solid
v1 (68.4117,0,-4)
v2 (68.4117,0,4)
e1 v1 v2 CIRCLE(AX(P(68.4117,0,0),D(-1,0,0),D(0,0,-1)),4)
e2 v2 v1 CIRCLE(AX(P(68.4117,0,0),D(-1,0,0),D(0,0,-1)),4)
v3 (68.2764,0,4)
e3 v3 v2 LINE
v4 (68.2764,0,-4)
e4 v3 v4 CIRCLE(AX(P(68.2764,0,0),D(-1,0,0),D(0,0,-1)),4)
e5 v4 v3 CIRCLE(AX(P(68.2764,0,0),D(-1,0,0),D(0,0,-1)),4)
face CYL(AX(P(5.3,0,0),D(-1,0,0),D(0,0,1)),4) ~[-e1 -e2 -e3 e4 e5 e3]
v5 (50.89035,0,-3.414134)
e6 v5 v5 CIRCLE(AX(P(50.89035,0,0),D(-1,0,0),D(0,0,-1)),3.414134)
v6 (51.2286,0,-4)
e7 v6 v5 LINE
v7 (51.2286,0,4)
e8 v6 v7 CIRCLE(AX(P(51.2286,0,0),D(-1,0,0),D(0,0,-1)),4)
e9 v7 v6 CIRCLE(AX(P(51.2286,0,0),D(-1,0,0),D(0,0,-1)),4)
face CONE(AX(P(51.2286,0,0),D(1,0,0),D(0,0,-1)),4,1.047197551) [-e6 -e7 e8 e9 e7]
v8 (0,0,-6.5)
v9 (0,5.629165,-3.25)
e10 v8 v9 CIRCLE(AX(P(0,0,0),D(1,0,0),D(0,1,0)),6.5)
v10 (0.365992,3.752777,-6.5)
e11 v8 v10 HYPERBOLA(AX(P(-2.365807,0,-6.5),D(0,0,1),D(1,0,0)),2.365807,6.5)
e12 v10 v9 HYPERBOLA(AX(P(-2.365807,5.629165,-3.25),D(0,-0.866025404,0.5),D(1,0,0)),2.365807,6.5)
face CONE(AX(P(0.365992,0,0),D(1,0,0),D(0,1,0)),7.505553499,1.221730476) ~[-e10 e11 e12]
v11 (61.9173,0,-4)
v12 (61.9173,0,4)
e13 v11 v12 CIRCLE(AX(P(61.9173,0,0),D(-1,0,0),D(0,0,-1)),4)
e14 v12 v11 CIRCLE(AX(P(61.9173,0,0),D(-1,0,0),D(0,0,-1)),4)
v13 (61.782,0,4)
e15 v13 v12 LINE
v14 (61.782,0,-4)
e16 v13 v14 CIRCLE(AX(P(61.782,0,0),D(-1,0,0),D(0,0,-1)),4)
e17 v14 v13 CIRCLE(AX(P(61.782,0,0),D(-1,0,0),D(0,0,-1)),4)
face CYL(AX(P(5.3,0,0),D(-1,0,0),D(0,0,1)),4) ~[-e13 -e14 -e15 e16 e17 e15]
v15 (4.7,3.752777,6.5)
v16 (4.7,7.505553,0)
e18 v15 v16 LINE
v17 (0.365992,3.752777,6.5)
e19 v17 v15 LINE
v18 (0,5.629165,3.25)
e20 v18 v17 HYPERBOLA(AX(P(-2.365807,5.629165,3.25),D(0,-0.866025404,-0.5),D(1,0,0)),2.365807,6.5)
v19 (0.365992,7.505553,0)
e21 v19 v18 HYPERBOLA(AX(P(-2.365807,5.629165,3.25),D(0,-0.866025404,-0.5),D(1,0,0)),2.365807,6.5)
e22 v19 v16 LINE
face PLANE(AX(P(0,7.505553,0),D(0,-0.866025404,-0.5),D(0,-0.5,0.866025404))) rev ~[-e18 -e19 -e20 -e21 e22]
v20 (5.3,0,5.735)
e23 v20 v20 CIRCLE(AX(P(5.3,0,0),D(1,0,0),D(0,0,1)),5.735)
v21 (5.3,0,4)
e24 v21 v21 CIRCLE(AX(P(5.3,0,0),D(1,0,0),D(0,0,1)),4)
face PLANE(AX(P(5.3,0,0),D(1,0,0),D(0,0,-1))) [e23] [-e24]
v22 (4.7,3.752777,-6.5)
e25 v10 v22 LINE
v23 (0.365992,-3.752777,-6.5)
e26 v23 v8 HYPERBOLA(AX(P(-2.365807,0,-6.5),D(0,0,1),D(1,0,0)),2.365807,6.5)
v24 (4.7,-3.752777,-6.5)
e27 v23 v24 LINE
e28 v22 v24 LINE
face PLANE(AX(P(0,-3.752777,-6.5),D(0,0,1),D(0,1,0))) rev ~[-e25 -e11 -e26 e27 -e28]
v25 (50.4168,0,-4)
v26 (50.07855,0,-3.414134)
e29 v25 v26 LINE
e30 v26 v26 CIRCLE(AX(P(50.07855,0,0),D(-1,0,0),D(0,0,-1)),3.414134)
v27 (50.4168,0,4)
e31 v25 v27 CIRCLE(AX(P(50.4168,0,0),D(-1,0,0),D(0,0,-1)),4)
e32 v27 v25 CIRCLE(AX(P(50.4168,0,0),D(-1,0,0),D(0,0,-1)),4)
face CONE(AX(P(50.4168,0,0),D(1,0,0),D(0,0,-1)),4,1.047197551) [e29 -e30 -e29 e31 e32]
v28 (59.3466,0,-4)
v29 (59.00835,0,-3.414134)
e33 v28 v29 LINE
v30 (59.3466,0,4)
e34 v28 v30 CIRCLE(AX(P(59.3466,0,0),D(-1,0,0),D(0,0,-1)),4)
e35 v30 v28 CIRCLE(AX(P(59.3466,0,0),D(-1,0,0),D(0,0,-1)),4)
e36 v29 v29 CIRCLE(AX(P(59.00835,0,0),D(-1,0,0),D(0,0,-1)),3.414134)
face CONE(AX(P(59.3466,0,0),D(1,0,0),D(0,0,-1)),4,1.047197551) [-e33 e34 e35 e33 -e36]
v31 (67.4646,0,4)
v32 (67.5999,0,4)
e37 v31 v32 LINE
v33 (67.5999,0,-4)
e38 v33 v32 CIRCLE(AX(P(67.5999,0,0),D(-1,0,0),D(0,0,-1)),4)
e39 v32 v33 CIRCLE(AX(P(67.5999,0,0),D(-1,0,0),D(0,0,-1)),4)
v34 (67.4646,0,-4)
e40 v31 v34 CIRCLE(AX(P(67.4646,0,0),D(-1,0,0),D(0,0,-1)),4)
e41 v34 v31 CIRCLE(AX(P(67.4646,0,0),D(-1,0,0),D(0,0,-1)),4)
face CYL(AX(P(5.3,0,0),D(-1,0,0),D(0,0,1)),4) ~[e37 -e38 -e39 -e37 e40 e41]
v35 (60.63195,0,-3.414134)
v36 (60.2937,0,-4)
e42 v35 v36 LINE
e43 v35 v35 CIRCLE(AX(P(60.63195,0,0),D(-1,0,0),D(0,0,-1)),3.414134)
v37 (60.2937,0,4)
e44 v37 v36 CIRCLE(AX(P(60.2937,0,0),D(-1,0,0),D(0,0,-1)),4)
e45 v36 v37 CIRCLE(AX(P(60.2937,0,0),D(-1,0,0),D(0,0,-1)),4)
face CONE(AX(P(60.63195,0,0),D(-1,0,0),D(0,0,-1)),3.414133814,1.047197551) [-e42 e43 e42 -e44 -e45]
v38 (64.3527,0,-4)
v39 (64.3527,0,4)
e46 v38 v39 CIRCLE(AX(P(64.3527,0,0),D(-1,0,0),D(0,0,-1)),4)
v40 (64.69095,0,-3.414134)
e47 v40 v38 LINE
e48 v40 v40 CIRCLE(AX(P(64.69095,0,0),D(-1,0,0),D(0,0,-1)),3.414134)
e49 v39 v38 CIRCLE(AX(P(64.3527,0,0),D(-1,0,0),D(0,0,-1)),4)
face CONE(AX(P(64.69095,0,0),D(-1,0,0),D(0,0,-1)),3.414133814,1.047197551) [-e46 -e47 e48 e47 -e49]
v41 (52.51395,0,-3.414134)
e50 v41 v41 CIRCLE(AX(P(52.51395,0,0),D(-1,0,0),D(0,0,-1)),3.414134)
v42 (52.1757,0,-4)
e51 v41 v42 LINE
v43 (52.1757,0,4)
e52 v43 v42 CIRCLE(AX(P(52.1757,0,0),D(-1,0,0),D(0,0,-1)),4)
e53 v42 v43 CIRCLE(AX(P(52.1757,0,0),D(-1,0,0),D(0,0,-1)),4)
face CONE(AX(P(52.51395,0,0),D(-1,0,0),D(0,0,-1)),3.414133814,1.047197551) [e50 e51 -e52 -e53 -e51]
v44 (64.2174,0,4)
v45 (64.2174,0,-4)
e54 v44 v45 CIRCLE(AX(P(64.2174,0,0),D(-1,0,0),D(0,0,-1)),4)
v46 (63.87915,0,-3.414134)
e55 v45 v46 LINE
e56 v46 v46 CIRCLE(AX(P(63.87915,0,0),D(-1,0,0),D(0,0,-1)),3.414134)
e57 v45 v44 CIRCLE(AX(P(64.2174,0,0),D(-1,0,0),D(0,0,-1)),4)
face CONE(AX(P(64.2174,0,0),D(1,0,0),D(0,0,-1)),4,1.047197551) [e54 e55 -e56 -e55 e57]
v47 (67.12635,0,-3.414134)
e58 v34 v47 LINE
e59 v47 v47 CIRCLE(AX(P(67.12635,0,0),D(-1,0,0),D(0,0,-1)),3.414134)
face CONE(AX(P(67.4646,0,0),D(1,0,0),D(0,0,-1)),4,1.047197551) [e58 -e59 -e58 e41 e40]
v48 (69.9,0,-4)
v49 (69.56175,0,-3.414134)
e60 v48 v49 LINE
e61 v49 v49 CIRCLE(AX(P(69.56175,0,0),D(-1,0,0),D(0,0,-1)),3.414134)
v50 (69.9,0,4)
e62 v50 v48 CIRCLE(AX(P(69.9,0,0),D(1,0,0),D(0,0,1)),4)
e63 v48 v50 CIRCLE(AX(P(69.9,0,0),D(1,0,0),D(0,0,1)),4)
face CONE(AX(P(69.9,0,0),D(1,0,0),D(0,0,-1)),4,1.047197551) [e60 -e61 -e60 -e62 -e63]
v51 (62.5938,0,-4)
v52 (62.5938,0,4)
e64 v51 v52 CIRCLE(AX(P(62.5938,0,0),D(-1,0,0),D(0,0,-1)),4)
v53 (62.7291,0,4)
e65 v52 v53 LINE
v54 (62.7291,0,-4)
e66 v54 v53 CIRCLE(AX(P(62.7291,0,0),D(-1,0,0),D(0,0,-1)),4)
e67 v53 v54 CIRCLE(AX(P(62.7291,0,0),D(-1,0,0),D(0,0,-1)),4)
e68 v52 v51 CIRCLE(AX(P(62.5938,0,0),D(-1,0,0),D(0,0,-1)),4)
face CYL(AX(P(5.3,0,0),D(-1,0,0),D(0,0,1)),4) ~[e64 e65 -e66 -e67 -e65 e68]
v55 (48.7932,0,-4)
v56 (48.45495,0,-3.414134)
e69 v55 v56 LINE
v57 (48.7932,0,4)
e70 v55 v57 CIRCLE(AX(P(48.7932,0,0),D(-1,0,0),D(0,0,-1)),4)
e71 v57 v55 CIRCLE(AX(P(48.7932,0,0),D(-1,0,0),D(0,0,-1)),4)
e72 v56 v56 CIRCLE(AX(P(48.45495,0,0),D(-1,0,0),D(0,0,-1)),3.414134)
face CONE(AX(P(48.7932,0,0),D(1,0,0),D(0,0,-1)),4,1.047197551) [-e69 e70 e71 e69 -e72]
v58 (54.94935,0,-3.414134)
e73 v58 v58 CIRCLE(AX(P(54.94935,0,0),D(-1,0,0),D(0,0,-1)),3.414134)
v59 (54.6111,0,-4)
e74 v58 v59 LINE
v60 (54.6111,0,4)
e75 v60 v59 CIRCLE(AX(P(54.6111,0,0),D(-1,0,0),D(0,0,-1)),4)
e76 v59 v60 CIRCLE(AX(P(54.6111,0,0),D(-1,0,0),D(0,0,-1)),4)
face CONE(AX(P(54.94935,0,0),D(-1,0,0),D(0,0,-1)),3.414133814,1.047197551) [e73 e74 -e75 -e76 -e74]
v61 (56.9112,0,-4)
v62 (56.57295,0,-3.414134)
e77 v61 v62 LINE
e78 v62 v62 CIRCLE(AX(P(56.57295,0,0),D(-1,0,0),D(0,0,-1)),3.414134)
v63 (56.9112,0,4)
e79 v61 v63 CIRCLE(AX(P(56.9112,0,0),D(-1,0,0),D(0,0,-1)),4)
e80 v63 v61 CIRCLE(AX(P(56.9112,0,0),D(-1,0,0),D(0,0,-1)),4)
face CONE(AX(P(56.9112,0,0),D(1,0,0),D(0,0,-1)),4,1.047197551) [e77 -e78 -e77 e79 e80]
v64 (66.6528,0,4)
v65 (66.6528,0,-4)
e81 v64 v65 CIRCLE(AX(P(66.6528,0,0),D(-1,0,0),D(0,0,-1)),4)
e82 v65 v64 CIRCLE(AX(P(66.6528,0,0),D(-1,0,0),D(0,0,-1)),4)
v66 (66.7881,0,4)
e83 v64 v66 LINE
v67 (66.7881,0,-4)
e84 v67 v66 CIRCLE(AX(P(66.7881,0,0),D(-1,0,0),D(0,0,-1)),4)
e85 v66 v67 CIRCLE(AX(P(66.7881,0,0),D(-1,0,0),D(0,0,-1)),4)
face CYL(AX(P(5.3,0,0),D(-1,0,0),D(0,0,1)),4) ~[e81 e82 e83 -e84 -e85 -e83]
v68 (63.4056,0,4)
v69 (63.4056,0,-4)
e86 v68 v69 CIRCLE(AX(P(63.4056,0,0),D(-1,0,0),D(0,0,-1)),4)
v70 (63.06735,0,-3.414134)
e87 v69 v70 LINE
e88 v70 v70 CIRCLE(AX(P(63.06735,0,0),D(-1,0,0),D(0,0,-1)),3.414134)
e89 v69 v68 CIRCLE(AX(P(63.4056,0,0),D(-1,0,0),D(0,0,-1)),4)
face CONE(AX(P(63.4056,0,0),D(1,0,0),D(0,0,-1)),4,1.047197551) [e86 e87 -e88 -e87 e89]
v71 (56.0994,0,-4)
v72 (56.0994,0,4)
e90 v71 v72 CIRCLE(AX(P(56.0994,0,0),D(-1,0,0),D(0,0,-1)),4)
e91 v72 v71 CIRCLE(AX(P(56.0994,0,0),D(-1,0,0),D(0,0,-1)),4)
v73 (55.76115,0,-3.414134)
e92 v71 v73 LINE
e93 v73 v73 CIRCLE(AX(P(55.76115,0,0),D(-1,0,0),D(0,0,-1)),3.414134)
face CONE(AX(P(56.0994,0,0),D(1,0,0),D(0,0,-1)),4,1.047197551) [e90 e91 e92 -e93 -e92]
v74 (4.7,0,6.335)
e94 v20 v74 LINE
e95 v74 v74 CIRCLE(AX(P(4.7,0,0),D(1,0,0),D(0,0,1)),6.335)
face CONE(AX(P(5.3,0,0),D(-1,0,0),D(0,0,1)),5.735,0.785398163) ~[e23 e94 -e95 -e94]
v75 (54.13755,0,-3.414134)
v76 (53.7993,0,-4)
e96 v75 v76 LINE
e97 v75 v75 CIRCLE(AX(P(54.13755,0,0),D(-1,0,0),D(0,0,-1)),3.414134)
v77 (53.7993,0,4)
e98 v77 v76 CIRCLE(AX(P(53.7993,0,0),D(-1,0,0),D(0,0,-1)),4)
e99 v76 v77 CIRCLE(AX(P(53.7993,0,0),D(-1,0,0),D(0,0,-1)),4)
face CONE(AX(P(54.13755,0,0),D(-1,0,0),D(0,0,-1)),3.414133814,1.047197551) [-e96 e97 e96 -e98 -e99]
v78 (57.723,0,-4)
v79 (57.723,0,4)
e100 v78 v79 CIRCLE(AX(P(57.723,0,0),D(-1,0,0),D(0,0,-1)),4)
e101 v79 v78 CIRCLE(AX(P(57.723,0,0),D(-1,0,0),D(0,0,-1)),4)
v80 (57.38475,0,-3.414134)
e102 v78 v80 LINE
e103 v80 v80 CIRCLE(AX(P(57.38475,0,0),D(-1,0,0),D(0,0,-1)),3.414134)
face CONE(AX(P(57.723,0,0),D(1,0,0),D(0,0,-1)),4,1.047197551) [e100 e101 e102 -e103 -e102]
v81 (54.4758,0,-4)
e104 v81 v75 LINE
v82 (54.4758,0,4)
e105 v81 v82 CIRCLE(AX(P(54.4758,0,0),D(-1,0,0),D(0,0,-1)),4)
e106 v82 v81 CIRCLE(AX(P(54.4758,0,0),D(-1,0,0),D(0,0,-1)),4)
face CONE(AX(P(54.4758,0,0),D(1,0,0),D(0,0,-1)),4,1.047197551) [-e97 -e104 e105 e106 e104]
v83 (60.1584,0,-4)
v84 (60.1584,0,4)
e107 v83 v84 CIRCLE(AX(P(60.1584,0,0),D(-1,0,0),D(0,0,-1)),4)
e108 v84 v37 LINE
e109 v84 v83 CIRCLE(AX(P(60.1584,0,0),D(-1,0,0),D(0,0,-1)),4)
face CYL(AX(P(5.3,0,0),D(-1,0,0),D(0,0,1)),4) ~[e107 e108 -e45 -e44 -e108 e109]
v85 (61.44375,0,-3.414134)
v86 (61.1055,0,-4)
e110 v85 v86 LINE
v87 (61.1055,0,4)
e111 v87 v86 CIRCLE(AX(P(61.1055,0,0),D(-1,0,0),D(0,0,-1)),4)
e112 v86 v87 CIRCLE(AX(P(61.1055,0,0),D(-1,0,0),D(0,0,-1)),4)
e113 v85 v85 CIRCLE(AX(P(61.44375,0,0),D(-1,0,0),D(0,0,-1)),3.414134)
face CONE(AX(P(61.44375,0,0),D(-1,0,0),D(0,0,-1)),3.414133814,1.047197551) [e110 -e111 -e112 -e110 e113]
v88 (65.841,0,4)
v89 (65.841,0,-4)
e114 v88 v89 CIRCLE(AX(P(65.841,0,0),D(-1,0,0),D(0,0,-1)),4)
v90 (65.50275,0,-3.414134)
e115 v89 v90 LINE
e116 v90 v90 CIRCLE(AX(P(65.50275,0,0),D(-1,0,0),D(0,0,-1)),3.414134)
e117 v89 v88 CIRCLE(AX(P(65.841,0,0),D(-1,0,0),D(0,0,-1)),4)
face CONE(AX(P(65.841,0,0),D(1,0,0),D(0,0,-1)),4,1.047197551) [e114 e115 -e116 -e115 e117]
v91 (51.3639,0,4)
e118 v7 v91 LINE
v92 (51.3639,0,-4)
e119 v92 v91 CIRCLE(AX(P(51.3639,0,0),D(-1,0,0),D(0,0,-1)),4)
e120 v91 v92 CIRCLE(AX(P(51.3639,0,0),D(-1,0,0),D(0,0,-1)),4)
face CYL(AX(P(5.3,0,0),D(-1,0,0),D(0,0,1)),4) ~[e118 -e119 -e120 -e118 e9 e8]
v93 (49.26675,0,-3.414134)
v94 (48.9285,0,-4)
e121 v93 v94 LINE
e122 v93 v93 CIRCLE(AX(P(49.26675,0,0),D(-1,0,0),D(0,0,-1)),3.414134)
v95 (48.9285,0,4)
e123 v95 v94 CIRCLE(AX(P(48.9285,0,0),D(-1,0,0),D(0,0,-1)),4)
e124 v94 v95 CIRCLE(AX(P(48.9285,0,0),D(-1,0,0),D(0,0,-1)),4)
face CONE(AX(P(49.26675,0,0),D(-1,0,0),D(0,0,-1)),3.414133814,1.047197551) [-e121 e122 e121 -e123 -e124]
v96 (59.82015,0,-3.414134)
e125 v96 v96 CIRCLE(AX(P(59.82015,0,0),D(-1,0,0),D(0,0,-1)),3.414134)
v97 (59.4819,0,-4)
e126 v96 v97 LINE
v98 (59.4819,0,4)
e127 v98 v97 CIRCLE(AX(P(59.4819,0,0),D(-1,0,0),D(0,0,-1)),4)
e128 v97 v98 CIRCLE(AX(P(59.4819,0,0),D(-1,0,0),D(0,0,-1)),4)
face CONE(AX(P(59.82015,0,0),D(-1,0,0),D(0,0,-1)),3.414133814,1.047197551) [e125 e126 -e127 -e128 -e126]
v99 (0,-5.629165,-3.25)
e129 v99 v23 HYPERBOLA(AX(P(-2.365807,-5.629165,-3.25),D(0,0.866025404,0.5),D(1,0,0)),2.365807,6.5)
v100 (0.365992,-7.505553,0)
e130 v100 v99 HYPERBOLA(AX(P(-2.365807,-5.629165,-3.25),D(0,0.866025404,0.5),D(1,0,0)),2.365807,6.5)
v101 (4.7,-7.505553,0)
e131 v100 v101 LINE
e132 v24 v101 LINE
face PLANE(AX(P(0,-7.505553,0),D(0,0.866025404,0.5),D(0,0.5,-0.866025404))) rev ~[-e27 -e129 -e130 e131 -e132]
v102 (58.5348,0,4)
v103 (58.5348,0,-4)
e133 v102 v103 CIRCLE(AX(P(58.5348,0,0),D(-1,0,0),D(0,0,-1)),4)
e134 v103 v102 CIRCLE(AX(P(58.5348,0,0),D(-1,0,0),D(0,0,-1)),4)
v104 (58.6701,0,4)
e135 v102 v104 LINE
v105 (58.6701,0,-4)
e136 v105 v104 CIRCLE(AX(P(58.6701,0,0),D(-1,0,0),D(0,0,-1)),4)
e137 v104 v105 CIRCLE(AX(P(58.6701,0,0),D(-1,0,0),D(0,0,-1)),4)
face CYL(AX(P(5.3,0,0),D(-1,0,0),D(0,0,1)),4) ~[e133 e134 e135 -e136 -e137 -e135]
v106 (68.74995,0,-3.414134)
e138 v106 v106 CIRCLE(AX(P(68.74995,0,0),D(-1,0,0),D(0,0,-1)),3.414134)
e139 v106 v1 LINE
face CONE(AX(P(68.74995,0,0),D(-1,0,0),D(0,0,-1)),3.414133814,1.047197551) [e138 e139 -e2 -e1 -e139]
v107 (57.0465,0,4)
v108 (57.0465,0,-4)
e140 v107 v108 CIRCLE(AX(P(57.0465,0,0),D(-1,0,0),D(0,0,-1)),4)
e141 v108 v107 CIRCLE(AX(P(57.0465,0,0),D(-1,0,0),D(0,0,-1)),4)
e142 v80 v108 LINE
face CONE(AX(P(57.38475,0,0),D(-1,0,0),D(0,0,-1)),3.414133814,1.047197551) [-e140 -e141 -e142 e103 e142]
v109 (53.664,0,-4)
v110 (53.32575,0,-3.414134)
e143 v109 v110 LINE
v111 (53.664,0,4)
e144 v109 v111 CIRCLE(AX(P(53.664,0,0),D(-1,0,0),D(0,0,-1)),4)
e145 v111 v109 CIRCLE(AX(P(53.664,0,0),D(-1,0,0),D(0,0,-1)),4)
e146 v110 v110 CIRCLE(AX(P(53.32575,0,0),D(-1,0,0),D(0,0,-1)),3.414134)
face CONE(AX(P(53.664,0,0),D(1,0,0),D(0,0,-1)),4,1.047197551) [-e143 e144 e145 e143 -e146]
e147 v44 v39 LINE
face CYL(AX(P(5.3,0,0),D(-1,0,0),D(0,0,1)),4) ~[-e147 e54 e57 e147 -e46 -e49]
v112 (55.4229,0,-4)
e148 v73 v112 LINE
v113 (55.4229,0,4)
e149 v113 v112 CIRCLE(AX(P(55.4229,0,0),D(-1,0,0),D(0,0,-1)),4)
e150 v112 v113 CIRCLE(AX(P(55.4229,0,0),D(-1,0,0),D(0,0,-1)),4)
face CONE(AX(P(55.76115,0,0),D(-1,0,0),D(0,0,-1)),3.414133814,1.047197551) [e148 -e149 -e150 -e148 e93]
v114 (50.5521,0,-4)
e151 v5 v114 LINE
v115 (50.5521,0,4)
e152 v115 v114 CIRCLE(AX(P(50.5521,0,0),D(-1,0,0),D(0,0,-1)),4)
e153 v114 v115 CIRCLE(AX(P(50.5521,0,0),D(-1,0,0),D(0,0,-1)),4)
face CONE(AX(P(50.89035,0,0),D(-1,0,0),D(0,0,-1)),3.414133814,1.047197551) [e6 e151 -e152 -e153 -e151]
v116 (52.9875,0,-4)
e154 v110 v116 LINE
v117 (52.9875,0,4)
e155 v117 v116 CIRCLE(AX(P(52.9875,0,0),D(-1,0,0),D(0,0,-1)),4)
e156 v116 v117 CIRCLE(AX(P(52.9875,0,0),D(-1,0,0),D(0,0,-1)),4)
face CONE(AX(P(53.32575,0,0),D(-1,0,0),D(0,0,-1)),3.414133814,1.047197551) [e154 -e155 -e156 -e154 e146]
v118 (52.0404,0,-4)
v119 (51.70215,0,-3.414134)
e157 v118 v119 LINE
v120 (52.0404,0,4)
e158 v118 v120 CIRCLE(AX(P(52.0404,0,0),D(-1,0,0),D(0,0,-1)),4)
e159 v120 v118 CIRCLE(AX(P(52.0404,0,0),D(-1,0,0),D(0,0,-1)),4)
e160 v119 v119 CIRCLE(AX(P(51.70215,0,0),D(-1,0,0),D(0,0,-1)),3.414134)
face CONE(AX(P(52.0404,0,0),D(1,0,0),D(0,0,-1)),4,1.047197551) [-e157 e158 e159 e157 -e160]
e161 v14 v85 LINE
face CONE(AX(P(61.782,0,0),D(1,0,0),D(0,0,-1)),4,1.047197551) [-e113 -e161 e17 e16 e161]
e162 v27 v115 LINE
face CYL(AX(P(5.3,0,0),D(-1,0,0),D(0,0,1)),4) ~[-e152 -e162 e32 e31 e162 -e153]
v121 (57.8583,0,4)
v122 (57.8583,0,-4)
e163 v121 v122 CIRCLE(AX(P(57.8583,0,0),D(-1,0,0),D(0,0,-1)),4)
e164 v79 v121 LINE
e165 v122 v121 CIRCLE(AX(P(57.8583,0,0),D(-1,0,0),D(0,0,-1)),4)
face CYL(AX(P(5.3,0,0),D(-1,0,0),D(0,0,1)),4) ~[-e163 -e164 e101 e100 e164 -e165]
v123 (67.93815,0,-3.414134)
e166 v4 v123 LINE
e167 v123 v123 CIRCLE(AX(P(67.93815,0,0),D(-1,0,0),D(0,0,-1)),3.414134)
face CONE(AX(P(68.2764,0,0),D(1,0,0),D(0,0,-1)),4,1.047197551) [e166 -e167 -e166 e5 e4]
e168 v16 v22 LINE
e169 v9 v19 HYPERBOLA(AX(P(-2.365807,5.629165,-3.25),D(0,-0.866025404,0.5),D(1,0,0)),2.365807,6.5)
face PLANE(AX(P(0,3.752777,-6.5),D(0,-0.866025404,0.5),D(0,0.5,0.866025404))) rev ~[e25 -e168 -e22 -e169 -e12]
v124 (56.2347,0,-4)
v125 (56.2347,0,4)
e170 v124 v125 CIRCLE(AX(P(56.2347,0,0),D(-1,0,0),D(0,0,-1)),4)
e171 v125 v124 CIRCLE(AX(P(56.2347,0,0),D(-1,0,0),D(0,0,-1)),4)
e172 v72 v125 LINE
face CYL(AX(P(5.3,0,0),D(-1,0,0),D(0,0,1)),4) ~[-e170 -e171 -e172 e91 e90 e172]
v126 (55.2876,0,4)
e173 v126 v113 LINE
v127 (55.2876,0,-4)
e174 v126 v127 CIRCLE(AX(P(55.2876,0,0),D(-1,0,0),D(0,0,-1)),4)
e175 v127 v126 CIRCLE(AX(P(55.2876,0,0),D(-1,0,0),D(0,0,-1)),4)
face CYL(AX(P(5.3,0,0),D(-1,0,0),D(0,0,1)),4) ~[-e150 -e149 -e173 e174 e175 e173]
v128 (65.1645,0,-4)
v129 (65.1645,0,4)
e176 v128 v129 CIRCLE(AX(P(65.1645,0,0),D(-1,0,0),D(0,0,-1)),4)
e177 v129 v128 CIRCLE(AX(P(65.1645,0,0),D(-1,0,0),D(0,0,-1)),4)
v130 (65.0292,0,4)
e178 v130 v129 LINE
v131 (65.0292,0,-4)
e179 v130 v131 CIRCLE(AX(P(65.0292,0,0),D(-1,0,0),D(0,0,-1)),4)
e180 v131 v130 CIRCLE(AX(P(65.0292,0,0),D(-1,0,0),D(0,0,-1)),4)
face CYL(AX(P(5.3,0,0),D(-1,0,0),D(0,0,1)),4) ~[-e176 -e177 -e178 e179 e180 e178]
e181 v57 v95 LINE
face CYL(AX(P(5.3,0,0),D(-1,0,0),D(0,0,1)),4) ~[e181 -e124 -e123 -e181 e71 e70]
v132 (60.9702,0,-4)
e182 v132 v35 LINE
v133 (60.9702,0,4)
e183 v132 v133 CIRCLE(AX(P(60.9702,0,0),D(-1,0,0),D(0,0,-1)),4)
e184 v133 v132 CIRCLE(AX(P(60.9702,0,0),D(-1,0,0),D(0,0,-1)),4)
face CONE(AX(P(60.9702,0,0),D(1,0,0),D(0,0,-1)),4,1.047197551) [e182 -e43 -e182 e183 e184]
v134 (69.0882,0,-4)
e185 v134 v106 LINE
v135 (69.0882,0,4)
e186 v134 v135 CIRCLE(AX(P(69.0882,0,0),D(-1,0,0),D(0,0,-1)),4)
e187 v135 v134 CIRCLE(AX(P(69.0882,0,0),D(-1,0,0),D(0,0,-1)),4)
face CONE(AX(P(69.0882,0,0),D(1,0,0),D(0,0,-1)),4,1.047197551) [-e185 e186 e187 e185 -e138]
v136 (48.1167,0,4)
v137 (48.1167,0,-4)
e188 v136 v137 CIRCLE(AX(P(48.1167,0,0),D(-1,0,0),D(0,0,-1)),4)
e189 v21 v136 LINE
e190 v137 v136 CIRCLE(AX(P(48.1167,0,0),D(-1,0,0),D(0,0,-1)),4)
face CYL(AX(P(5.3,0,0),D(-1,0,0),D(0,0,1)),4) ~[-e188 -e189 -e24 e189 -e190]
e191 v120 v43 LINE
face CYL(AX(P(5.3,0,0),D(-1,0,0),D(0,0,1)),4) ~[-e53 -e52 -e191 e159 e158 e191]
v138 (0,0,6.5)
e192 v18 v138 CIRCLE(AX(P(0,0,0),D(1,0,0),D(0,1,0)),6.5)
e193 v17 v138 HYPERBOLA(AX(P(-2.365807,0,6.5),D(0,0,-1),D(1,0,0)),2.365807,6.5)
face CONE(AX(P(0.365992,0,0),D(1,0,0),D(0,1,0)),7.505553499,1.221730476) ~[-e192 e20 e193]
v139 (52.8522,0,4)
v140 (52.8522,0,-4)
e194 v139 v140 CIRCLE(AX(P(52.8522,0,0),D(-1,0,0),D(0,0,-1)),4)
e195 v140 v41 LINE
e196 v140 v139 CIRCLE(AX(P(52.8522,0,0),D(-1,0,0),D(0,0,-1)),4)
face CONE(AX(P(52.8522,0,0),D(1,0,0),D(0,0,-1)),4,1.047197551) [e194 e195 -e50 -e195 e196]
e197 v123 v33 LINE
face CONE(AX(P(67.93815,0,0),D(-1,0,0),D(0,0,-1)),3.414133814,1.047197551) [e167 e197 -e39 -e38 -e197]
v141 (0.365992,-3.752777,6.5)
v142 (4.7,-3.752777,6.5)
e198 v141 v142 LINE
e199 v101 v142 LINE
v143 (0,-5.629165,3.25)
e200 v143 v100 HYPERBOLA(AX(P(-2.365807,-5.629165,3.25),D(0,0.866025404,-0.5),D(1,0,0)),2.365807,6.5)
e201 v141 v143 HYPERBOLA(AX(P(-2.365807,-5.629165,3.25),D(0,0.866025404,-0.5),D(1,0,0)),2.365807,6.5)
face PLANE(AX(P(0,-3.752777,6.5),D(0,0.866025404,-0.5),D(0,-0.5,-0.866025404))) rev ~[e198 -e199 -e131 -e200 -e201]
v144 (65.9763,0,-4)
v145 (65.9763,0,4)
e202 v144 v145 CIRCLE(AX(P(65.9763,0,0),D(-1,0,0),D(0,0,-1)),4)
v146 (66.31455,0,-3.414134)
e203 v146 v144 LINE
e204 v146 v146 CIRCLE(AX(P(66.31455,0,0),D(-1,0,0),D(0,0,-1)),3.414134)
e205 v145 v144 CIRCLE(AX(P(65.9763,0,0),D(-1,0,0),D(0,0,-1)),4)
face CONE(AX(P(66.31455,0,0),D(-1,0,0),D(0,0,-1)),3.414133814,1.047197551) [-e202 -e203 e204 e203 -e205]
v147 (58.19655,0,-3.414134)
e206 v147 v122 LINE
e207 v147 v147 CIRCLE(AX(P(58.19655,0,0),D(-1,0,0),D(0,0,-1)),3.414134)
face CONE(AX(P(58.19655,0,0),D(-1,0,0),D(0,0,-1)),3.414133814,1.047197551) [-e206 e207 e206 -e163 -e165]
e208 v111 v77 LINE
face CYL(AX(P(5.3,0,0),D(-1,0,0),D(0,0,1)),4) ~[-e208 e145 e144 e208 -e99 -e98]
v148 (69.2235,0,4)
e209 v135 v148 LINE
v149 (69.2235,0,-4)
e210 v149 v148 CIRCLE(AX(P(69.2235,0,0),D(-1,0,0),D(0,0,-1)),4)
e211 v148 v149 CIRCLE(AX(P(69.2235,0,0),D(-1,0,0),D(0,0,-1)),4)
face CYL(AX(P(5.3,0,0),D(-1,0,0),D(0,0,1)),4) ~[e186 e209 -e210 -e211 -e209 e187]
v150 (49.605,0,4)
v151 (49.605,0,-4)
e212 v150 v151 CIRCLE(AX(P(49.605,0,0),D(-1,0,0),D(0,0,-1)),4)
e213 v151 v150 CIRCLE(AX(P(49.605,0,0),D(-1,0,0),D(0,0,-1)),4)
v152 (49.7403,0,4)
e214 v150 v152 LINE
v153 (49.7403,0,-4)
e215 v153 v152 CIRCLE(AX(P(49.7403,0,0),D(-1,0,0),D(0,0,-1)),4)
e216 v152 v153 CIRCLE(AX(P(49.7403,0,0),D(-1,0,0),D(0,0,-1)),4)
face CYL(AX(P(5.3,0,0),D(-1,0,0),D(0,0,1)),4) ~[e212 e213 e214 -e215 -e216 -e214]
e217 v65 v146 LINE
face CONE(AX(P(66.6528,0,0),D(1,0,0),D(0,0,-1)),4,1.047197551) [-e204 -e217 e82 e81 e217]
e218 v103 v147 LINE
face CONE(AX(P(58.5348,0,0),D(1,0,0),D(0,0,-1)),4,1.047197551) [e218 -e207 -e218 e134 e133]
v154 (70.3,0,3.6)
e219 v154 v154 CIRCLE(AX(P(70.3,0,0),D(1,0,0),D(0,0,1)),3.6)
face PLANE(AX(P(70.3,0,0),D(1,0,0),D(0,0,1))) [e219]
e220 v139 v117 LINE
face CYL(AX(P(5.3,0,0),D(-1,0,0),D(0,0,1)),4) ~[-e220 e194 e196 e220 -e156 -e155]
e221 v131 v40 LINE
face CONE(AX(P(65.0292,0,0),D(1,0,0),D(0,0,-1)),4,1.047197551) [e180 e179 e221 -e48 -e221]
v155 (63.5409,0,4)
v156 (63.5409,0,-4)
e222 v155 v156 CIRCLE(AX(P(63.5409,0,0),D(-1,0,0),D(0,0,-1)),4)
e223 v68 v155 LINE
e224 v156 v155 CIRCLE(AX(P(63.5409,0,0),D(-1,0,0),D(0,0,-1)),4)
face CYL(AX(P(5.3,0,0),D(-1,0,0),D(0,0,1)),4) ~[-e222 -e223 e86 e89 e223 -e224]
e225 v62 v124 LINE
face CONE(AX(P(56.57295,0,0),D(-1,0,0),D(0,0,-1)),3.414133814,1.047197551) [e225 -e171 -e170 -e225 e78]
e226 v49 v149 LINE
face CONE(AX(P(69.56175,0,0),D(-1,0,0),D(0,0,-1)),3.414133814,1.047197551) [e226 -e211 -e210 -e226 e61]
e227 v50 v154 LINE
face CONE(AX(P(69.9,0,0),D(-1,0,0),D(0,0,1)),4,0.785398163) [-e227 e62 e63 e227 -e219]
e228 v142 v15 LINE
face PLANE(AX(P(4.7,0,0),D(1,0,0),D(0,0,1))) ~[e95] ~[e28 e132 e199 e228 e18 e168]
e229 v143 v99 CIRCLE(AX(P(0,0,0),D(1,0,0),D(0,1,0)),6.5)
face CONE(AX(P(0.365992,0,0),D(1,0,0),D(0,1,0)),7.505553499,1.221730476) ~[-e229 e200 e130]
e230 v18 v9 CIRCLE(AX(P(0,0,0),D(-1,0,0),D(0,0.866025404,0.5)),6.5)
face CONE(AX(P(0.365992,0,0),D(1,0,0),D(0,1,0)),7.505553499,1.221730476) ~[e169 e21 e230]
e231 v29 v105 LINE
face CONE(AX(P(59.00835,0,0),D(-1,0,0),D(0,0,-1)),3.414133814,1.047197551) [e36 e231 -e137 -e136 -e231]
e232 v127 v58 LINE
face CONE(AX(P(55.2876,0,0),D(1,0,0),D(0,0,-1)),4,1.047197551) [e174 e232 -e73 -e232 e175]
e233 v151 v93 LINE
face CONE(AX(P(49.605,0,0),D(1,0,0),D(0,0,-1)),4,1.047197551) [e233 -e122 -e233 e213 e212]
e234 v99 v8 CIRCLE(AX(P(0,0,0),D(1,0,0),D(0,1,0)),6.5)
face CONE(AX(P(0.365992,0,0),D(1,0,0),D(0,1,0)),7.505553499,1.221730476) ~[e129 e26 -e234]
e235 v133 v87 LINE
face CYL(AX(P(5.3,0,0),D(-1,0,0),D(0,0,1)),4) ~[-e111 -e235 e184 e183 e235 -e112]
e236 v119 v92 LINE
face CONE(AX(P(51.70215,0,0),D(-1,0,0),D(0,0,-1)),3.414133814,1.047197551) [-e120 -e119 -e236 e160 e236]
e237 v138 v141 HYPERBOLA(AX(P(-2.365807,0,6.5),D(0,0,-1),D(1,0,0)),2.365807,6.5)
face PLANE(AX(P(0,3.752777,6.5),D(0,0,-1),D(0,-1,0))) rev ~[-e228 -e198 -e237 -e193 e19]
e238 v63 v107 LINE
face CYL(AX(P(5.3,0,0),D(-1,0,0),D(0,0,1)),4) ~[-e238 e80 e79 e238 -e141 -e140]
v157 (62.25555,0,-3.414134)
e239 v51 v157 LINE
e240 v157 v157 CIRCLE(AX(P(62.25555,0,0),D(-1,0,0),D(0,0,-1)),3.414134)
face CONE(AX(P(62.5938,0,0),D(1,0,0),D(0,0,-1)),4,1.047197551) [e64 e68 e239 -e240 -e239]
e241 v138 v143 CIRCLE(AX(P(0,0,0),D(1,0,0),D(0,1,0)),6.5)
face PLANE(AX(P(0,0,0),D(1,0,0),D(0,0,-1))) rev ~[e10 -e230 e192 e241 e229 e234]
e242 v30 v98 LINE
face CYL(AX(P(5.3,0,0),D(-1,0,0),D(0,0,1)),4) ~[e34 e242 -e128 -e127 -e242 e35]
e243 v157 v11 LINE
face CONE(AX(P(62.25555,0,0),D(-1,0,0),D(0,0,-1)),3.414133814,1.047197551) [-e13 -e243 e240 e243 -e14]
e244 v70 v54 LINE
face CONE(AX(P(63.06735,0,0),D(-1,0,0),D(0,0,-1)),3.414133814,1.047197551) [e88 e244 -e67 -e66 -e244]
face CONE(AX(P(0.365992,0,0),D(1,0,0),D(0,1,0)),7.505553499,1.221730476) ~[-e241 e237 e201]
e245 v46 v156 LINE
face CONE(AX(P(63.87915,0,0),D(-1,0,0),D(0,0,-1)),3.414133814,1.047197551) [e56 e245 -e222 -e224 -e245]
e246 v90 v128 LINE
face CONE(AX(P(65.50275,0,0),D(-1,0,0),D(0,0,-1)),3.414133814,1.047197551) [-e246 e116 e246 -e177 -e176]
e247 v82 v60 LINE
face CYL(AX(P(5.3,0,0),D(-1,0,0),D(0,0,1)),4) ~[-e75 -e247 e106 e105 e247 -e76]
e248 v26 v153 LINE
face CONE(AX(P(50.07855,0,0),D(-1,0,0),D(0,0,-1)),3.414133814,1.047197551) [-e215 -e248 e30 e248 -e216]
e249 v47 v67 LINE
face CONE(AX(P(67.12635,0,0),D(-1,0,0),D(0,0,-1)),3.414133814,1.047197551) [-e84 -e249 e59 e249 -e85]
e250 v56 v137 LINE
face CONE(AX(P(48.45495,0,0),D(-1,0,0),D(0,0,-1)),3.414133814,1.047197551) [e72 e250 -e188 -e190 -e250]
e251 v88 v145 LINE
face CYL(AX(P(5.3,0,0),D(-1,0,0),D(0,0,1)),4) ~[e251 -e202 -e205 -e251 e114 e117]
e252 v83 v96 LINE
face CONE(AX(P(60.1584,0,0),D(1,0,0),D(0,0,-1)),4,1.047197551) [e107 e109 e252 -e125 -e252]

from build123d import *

# Parameters (mm, degrees)
BASEHEAD_DEPTH   = 5.3
SKETCH5_R        = 4
BASEBODY_DEPTH   = 65
CHAMFER1_SIZE    = 0.4
LPATTERN10_COUNT = 27
LPATTERN10_PITCH = 0.8118


with BuildPart() as part:
    # Sketch2 → BaseHead (new body)
    with BuildSketch(Plane(origin=(0, 0, 0), x_dir=(0, 0, -1), z_dir=(1, 0, 0))):
        Polygon((0, -7.505553499), (6.5, -3.75277675), (6.5, 3.75277675), (0, 7.505553499), (-6.5, 3.75277675), (-6.5, -3.75277675), align=None)
    extrude(amount=BASEHEAD_DEPTH)

    # Sketch3 → BearingFace (revolve, cut)
    with BuildSketch(Plane.XY, mode=Mode.PRIVATE) as bearingface_sk:
        Polygon((5.3, 7.505553499), (5.3, 5.735), (4.7, 6.335), (4.7, 7.505553499), align=None)
    revolve(bearingface_sk.sketch.rotate(Axis((-0.957090588, 0, 0), (1, 0, 0)), 90), axis=Axis((-0.957090588, 0, 0), (1, 0, 0)), mode=Mode.SUBTRACT)

    # Sketch4 → HeadChamfer (revolve, cut)
    with BuildSketch(Plane.XY):
        Polygon((0, 7.505553499), (0.365991543, 7.505553499), (0, 6.5), align=None)
    revolve(axis=Axis((-0.493528746, 0, 0), (1, 0, 0)), mode=Mode.SUBTRACT)

    # Sketch5 → BaseBody (add)
    with BuildSketch(Plane(origin=(5.3, 0, 0), x_dir=(0, 0, -1), z_dir=(1, 0, 0))):
        with Locations(Location((0, 0, 0), (0, 0, 180))):
            Circle(SKETCH5_R)
    extrude(amount=BASEBODY_DEPTH)

    # Chamfer1
    chamfer1_edges = [part.edges().sort_by_distance(p)[0] for p in [
        (70.3, 0, -4),
    ]]
    chamfer(chamfer1_edges, length=CHAMFER1_SIZE)

    # Sketch6 → Cut-Revolve10 (revolve, cut)
    with BuildSketch(Plane.XY, mode=Mode.PRIVATE) as cut_revolve10_sk:
        Polygon((69.2235, 4.6765), (69.9, 4.6765), (69.9, 4), (69.56175, 3.414133814), (69.2235, 4), align=None)
    cut_revolve10 = revolve(cut_revolve10_sk.sketch.rotate(Axis((70.3, 0, 0), (-1, 0, 0)), 90), axis=Axis((70.3, 0, 0), (-1, 0, 0)), mode=Mode.SUBTRACT)

    # LPattern10: Cut-Revolve10 ×27
    with Locations(*[(-i * LPATTERN10_PITCH, 0, 0) for i in range(1, LPATTERN10_COUNT)]):
        add(cut_revolve10, mode=Mode.SUBTRACT)


solid = part.part
